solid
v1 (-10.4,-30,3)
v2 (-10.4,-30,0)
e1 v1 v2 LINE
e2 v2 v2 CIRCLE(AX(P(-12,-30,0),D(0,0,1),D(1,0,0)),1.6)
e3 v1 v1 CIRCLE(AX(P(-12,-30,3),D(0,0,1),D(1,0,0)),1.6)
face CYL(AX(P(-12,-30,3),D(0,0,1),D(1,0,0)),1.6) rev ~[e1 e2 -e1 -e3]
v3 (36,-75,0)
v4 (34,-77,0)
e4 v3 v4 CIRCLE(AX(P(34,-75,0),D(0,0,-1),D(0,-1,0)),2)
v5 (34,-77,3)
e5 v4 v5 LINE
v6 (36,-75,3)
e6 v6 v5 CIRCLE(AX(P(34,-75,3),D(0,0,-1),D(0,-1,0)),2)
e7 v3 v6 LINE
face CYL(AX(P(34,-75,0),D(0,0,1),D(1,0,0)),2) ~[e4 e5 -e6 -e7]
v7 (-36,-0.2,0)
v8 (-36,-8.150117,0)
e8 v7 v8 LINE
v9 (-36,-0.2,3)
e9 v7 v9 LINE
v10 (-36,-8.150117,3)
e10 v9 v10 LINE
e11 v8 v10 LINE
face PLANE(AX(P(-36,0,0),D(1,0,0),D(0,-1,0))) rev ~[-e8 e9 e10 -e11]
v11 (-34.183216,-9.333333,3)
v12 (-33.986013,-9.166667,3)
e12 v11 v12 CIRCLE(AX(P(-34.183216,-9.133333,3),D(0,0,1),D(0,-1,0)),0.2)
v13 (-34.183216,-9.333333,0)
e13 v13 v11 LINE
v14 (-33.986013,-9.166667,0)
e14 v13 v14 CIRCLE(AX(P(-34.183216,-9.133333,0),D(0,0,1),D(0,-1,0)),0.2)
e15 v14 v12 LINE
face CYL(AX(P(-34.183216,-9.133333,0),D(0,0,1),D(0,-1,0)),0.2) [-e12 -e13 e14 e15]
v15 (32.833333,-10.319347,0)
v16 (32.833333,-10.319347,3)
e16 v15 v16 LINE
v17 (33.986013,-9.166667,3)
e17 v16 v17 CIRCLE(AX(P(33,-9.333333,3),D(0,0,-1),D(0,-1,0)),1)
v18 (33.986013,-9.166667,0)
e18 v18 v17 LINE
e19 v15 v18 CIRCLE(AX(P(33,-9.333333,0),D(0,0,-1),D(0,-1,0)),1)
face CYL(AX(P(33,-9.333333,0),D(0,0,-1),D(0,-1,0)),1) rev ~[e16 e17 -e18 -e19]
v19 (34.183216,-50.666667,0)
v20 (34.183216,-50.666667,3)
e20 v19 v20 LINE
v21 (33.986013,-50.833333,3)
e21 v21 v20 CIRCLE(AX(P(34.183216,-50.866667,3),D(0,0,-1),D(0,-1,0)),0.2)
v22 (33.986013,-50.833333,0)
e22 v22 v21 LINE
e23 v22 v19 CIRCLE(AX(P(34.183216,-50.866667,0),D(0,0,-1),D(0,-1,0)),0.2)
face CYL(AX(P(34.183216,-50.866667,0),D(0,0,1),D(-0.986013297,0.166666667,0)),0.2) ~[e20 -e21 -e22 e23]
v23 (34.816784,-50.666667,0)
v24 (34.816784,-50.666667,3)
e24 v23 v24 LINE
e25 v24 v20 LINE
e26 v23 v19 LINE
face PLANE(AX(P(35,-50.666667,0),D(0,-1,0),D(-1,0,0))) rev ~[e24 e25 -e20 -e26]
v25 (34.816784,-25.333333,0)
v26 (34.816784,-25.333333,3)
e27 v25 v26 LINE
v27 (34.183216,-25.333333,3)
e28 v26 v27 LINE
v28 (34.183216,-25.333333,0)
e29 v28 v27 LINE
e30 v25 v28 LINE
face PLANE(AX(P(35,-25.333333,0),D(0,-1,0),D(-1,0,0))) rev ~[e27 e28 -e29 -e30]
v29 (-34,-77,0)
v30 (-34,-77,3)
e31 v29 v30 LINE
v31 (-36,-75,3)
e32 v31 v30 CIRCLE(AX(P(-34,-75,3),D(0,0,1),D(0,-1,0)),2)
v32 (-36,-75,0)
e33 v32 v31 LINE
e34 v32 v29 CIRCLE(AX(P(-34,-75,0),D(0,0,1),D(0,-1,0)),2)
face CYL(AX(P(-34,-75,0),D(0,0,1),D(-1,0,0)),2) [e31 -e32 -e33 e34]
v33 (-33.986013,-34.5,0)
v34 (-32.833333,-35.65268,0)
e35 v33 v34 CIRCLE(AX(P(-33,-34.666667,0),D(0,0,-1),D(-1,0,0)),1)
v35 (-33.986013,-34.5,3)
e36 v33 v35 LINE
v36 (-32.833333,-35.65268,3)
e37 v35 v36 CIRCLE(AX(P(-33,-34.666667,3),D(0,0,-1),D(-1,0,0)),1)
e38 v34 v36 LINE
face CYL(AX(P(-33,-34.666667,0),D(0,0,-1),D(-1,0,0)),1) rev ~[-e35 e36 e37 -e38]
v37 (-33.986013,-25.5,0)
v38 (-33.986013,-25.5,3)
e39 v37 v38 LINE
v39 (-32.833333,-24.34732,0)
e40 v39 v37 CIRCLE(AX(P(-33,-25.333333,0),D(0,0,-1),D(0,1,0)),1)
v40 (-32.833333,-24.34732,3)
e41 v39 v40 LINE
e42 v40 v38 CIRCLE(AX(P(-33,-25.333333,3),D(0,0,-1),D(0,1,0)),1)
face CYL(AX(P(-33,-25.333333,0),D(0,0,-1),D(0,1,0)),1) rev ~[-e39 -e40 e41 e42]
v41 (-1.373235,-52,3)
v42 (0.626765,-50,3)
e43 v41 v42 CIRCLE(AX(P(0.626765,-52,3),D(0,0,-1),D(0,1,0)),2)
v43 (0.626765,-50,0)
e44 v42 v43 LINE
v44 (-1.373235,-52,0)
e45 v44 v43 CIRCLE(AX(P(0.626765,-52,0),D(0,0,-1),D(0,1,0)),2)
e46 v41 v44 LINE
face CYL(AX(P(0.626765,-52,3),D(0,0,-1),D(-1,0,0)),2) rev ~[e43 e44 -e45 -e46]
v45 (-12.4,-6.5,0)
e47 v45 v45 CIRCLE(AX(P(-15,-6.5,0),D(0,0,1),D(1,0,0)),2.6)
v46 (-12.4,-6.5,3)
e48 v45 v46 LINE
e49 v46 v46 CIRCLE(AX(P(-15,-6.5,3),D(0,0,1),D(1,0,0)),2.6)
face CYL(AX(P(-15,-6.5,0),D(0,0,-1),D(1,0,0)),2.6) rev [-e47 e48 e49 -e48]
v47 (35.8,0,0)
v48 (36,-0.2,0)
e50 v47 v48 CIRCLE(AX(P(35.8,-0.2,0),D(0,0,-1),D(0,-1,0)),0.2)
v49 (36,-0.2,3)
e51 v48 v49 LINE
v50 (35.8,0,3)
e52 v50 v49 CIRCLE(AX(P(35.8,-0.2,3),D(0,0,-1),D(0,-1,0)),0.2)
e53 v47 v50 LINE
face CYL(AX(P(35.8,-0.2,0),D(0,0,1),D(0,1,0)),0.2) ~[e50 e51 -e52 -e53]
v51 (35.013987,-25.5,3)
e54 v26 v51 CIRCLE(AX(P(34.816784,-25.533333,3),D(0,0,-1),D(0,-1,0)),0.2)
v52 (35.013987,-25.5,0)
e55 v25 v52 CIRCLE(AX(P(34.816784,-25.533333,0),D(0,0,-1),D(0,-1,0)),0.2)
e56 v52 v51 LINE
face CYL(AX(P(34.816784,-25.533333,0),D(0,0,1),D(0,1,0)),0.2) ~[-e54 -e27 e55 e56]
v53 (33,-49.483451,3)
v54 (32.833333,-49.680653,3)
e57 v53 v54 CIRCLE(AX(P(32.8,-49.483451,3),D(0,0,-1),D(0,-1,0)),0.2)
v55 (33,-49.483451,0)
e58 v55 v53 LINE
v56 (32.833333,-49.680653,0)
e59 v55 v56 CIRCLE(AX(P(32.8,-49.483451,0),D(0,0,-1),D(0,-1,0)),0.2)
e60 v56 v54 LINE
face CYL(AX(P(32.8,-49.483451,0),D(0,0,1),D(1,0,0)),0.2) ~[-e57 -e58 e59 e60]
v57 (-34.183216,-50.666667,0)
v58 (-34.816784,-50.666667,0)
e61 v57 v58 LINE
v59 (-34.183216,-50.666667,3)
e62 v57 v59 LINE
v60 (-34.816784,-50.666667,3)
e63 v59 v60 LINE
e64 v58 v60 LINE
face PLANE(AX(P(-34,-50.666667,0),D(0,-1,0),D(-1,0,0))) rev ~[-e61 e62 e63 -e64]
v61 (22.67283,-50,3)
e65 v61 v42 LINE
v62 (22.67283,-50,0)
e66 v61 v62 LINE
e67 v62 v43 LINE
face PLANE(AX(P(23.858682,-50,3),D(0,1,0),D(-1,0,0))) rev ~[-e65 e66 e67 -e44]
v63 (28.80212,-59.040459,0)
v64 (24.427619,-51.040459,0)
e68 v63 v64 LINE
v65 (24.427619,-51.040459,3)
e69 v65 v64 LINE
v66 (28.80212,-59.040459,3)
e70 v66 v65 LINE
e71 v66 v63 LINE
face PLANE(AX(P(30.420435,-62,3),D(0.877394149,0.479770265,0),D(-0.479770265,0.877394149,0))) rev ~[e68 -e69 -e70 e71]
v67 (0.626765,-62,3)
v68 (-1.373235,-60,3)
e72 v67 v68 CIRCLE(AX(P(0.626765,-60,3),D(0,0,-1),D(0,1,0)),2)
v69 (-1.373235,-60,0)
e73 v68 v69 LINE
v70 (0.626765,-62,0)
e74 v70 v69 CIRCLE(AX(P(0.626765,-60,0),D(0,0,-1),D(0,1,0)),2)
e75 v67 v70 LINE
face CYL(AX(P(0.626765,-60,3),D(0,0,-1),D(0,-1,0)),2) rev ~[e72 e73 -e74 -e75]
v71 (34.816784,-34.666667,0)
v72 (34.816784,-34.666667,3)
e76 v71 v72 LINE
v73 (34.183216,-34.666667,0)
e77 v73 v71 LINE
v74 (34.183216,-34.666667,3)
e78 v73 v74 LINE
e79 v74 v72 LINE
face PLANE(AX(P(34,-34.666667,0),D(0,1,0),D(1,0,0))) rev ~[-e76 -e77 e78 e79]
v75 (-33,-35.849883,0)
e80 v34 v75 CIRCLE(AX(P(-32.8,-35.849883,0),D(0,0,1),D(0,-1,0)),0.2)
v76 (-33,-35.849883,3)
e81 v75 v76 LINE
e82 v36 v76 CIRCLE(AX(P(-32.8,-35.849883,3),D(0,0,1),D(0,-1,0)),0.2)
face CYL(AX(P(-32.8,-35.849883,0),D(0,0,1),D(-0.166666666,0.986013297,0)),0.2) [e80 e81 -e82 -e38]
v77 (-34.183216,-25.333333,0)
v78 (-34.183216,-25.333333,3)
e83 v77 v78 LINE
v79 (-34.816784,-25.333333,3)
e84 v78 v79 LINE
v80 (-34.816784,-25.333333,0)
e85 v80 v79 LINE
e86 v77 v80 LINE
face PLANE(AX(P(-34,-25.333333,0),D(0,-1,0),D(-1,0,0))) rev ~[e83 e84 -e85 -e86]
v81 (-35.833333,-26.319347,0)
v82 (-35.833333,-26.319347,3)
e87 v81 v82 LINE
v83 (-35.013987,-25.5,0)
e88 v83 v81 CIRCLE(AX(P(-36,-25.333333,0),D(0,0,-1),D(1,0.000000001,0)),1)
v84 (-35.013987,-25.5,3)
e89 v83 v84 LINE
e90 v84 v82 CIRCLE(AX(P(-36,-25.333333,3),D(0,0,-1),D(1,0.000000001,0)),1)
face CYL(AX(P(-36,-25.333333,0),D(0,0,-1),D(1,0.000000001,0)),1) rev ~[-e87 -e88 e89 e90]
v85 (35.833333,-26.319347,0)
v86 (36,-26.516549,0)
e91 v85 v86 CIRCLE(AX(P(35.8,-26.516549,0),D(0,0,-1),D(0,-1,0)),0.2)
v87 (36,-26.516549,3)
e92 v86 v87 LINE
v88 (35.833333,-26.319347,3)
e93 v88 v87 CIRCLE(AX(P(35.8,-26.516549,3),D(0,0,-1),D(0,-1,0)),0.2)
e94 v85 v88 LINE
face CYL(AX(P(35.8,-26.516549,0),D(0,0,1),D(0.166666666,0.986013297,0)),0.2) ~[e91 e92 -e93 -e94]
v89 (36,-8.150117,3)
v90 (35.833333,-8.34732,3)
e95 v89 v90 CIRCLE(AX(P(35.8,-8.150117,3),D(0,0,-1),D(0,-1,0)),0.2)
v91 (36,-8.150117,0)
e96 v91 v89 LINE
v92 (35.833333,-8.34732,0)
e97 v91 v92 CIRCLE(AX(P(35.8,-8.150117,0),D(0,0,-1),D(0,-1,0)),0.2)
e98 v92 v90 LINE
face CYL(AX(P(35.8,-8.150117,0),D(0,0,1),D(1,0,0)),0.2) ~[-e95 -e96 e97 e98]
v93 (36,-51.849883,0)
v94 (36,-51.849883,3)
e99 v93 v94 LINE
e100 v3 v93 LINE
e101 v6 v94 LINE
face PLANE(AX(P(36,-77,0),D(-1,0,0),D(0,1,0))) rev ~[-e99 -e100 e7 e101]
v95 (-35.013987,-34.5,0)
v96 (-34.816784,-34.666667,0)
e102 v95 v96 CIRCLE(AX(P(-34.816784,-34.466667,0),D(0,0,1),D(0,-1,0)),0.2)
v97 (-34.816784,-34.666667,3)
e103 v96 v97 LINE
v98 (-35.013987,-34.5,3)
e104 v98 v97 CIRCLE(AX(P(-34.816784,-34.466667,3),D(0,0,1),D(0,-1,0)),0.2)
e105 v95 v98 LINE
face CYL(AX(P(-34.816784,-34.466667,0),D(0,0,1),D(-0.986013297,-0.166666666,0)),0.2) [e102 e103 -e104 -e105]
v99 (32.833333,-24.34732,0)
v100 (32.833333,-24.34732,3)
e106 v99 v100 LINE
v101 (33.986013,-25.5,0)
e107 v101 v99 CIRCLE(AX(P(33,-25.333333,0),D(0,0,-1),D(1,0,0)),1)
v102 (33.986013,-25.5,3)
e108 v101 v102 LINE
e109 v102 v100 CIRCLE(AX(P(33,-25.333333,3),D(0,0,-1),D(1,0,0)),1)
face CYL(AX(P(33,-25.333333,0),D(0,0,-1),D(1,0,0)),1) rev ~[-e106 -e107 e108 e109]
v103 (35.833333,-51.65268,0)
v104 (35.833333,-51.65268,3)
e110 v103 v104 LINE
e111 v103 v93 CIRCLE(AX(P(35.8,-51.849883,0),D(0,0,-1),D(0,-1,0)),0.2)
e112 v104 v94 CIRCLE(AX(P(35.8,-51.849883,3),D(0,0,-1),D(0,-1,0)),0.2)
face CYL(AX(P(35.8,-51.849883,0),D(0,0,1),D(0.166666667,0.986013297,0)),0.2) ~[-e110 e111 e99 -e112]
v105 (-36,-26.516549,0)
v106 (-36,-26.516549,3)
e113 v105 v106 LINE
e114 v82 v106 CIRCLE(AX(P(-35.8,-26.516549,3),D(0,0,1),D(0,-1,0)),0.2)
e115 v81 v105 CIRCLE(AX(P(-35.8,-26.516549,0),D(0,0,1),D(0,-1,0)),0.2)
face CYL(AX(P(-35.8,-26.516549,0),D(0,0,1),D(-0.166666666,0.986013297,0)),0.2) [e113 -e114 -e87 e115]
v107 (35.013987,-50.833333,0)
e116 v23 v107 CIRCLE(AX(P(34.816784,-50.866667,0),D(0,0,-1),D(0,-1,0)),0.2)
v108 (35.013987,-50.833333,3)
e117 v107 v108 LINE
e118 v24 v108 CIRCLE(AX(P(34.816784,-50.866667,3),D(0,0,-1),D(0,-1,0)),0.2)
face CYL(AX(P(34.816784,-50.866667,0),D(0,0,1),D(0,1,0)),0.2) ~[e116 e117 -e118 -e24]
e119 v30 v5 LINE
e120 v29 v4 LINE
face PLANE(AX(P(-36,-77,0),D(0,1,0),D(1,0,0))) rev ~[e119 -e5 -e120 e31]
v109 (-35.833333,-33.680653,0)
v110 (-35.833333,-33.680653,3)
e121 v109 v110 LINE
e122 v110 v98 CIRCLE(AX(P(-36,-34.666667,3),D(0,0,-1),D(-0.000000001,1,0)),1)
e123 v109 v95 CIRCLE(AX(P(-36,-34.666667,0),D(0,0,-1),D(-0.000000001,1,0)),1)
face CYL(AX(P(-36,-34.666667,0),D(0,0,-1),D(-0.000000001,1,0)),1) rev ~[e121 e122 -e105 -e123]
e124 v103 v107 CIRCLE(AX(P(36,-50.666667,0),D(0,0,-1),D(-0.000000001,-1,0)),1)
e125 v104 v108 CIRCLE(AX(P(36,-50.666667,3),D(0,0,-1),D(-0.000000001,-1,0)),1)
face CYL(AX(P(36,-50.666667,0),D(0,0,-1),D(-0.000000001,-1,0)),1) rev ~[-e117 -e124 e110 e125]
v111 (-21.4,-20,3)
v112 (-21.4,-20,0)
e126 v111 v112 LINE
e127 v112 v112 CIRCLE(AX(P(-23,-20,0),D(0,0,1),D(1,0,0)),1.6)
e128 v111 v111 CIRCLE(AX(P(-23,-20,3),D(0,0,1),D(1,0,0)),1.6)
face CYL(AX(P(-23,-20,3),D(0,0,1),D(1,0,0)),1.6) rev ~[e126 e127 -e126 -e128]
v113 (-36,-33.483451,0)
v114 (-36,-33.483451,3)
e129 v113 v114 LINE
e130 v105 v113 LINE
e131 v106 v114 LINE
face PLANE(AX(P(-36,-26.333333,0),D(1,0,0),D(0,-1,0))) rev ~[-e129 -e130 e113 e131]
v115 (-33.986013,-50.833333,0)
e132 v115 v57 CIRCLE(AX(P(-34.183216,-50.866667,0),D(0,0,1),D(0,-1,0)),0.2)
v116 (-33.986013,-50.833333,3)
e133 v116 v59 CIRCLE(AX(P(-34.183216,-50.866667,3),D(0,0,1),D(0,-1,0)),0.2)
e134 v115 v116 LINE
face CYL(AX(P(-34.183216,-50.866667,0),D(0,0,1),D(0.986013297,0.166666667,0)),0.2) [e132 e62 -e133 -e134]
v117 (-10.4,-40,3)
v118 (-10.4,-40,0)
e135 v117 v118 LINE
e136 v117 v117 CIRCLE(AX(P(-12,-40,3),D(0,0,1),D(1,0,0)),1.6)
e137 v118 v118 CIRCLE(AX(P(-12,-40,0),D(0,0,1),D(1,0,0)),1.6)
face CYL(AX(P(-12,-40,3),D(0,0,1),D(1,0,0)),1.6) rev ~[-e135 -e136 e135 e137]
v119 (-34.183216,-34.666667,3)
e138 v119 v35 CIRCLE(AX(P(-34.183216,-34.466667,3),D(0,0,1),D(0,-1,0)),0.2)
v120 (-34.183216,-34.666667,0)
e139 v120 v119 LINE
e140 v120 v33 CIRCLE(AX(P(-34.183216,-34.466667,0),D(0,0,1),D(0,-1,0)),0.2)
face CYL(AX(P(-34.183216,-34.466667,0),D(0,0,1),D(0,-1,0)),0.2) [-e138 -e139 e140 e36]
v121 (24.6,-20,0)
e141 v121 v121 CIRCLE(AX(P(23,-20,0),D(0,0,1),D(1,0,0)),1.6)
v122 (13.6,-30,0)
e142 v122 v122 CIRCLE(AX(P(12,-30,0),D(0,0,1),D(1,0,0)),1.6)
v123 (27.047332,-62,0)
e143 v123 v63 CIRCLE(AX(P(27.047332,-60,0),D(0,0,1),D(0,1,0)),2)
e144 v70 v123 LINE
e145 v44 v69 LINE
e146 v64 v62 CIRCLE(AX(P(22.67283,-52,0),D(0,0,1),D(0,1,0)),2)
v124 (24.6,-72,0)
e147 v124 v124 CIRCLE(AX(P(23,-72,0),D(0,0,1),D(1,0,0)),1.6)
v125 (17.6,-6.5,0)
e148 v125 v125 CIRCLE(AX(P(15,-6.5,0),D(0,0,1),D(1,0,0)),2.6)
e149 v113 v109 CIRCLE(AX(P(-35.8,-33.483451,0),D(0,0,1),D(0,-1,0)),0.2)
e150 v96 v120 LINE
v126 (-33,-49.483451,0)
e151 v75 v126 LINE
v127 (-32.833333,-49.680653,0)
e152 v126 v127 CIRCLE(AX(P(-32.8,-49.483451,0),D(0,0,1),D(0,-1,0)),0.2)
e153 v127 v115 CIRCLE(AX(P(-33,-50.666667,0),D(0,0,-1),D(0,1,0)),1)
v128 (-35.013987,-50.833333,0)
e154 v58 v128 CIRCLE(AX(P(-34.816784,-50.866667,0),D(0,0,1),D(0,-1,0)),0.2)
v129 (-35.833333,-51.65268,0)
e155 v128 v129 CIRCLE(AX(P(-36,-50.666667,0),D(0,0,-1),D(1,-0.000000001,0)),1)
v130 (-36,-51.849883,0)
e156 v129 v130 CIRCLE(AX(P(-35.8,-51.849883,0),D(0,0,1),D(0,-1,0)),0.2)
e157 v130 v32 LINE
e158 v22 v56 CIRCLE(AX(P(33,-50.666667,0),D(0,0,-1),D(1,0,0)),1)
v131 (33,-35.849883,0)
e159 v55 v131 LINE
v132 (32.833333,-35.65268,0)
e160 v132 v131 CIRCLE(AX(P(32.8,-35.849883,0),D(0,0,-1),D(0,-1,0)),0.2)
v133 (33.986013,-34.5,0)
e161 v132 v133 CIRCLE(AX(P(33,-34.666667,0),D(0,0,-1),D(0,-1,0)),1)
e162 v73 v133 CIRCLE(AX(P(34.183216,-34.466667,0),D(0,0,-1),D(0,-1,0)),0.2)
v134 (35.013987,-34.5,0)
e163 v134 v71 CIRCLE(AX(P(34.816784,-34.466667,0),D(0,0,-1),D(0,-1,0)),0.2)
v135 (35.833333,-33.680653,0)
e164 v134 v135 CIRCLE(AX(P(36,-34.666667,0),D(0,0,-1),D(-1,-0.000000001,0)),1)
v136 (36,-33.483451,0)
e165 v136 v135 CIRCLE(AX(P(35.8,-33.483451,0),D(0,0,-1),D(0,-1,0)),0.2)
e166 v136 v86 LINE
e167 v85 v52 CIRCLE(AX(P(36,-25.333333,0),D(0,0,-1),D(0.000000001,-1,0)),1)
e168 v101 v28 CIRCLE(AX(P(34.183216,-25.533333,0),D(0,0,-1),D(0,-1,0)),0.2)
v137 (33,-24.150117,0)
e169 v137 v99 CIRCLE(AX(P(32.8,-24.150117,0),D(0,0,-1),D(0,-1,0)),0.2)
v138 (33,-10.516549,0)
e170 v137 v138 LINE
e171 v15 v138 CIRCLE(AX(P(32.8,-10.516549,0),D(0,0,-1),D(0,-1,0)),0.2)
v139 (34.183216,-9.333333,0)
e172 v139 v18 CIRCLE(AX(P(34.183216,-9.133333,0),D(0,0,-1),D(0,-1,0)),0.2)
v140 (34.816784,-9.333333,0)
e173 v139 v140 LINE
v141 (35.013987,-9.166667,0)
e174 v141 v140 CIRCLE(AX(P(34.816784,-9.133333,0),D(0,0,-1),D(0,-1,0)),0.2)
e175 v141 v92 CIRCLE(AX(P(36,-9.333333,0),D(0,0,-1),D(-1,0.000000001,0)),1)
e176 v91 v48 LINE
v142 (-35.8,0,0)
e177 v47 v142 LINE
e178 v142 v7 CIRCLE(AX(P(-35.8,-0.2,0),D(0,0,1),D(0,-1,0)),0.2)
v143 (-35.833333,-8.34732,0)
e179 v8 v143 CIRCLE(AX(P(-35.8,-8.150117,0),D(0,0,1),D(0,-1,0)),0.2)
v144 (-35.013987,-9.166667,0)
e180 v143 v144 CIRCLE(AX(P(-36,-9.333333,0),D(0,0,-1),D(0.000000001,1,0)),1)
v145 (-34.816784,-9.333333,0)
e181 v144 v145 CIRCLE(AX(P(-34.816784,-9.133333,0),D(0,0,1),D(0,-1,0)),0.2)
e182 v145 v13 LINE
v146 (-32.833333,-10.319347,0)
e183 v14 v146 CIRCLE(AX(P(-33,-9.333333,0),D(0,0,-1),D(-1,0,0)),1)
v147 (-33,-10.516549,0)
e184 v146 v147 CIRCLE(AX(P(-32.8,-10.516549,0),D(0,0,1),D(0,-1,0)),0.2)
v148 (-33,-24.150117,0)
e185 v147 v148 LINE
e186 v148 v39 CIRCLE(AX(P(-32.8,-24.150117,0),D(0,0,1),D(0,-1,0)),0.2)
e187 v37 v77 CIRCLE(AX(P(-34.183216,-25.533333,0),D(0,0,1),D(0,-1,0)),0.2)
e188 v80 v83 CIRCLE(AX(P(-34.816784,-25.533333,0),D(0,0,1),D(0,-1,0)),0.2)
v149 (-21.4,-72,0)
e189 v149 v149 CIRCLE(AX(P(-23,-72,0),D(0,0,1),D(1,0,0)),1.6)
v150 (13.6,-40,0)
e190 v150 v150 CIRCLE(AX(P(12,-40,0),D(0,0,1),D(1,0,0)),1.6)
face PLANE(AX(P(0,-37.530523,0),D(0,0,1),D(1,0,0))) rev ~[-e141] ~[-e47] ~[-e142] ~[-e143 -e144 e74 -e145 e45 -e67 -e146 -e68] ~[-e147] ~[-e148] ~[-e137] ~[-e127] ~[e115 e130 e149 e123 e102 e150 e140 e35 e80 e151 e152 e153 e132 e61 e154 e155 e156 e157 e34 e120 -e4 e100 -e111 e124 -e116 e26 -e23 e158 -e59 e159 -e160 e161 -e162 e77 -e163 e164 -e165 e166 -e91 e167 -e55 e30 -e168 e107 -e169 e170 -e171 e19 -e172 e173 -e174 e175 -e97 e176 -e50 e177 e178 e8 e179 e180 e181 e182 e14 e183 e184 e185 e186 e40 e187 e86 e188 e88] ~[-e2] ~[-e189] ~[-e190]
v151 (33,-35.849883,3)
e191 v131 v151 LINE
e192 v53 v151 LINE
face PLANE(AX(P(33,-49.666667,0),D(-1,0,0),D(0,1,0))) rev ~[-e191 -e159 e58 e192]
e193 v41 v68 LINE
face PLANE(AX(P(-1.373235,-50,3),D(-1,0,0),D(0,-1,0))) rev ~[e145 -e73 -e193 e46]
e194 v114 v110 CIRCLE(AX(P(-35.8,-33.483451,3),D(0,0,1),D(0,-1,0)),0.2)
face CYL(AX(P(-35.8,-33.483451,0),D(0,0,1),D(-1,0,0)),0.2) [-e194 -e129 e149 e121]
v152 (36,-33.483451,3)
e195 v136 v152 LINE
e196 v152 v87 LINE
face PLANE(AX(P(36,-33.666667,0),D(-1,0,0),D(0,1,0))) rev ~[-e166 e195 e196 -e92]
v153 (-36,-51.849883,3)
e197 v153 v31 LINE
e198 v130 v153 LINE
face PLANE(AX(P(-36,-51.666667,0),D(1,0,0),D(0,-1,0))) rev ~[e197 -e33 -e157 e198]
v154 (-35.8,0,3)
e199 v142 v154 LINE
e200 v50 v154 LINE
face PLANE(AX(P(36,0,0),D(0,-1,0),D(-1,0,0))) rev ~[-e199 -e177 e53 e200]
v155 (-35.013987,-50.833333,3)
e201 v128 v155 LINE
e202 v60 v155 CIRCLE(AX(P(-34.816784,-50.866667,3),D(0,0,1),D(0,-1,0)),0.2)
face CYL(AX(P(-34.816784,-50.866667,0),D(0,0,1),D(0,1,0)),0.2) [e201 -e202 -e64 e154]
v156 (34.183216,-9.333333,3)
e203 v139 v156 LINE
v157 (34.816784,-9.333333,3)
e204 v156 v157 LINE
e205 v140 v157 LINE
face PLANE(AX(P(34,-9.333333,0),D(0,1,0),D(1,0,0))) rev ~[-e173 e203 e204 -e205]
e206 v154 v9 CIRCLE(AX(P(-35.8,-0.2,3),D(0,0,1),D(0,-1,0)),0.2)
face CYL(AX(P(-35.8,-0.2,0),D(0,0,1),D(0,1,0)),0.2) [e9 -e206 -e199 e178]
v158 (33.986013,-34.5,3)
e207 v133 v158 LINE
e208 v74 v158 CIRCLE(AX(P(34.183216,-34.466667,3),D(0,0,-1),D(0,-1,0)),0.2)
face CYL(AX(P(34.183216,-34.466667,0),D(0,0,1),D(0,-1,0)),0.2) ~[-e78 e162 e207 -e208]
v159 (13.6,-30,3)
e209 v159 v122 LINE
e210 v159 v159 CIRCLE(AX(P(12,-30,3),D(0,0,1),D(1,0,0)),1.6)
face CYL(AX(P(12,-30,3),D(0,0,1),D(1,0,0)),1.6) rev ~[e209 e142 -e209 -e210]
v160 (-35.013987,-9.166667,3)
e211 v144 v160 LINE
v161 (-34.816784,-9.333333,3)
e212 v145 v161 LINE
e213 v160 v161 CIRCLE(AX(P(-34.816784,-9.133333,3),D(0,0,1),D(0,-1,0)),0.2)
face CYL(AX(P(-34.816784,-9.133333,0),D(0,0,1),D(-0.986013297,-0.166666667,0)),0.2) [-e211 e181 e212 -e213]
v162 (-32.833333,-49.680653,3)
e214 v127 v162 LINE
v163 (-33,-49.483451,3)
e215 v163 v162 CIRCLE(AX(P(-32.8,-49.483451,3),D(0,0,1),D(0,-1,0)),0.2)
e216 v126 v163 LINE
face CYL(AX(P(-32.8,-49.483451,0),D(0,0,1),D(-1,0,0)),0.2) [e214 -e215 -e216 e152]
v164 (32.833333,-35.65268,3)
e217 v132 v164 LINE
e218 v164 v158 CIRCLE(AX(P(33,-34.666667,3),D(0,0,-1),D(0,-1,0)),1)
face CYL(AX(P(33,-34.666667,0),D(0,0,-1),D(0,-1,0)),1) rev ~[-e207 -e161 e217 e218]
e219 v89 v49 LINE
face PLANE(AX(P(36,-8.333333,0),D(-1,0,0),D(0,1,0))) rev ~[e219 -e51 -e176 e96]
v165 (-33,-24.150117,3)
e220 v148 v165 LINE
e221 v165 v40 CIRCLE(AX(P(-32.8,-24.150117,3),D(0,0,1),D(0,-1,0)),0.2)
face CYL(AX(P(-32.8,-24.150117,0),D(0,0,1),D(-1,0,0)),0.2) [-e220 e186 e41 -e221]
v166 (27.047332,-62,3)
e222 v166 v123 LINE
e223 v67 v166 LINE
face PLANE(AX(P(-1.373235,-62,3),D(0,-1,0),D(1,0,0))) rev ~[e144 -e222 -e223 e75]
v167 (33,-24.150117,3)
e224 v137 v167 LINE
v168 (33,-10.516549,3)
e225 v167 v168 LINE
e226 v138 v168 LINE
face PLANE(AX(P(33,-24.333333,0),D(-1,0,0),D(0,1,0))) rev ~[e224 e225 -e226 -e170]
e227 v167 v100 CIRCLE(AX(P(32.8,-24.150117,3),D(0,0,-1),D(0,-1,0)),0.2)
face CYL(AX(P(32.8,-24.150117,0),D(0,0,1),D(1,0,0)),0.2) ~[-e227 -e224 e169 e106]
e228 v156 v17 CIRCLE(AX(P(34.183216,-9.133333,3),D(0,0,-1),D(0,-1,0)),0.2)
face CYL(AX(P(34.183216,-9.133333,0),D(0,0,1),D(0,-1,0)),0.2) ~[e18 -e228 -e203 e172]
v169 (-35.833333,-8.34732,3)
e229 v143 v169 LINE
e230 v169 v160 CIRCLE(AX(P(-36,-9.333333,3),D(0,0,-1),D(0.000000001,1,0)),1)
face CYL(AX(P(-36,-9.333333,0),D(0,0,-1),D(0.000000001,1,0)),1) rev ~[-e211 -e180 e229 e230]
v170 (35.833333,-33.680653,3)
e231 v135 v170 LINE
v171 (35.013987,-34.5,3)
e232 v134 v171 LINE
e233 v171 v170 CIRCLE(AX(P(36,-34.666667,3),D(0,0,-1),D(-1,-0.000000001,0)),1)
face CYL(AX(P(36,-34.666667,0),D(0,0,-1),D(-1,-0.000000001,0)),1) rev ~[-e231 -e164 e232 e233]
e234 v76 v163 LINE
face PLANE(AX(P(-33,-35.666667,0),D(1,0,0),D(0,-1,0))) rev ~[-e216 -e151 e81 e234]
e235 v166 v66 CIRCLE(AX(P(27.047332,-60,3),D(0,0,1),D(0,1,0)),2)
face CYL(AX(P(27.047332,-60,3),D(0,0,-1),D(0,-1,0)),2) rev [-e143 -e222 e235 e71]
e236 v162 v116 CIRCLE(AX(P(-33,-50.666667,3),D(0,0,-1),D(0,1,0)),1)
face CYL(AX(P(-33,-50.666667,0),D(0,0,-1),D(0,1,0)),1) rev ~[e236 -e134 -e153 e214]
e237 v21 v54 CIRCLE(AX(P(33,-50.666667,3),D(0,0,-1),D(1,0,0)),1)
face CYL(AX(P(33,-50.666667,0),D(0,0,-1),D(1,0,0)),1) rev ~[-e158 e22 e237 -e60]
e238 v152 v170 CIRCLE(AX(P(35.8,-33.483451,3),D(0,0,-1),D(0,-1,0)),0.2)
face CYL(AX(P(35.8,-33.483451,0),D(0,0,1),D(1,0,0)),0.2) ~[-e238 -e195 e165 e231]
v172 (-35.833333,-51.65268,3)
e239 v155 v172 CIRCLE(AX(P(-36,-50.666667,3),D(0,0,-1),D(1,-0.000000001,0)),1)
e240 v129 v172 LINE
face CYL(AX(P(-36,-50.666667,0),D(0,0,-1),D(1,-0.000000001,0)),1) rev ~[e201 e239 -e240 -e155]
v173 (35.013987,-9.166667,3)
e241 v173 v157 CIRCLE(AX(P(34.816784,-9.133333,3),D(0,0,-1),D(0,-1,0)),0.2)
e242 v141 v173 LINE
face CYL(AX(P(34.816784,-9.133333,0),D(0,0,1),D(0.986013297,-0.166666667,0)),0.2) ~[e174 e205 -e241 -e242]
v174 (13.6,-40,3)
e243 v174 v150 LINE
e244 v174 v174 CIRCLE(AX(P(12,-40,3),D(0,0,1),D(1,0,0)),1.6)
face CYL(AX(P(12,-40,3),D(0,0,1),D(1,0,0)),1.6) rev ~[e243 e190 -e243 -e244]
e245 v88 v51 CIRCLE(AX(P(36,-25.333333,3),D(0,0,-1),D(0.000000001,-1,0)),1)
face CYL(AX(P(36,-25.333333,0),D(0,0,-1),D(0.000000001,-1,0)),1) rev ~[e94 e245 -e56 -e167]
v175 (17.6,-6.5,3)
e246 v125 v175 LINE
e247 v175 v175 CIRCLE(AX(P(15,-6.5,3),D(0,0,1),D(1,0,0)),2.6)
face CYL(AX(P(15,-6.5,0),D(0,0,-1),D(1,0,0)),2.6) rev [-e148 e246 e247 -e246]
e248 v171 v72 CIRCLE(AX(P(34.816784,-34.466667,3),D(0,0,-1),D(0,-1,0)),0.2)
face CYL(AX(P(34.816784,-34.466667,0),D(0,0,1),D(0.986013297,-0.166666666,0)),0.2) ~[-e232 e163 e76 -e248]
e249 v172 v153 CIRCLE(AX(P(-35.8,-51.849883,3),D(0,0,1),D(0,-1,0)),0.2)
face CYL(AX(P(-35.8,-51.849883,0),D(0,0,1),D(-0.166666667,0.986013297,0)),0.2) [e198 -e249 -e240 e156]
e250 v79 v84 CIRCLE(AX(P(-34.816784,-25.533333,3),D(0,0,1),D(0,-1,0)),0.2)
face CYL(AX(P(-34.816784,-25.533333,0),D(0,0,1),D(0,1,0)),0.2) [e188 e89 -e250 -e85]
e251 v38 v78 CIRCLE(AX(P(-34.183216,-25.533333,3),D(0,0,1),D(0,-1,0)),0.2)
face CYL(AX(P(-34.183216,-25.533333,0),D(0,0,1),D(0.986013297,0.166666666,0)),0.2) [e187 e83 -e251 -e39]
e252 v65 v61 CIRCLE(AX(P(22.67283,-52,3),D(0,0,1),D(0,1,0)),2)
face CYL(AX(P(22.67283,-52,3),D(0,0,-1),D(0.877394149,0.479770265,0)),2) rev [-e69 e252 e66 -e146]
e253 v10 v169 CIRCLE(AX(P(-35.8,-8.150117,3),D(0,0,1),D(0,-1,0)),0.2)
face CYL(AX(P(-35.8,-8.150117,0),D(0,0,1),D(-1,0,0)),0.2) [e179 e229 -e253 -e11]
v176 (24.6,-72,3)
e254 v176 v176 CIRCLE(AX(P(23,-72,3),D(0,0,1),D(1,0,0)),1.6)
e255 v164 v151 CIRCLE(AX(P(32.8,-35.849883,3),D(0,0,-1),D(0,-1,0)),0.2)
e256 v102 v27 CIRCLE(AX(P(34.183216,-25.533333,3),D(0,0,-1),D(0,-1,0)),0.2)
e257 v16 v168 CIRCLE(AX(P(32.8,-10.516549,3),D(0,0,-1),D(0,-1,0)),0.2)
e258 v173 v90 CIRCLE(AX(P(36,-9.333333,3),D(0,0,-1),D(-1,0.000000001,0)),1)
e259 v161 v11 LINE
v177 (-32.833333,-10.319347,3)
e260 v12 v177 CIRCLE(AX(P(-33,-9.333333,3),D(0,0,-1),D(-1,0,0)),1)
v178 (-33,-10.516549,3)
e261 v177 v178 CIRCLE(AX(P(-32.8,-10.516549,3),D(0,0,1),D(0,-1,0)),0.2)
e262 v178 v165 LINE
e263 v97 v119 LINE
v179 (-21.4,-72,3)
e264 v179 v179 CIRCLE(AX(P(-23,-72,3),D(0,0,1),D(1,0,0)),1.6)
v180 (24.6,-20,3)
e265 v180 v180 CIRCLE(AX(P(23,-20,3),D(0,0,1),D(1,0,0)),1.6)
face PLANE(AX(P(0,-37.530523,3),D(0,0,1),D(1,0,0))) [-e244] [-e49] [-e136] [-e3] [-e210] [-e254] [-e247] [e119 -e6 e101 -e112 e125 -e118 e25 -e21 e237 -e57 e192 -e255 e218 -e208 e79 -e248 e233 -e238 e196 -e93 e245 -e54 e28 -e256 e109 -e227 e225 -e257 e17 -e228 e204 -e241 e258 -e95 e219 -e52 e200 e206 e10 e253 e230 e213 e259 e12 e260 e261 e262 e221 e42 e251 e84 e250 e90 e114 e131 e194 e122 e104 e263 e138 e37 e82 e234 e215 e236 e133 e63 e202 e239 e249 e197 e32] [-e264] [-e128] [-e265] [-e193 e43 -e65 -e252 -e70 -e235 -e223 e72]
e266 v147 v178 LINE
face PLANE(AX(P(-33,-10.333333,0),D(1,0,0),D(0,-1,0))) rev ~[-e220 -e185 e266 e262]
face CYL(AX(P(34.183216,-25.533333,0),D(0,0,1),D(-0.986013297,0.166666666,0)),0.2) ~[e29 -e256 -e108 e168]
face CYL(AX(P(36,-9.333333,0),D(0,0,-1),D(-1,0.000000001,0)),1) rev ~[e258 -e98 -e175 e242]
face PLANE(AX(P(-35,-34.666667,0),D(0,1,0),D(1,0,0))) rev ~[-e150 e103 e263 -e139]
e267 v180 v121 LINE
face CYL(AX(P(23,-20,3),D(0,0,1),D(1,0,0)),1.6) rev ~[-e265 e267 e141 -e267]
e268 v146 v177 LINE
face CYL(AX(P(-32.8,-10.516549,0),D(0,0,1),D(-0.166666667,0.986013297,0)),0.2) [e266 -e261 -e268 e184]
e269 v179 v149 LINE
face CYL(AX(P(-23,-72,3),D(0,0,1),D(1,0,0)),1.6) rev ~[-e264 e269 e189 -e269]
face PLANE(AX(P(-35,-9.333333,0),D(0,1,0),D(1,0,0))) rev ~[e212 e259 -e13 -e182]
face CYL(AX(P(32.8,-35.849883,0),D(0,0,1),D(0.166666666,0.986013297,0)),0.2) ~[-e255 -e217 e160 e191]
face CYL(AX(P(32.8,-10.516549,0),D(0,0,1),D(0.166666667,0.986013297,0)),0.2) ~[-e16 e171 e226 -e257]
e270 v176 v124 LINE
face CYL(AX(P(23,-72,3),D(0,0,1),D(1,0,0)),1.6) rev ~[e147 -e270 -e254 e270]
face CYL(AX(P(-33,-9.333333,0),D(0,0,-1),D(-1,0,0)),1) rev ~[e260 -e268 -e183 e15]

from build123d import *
from OCP.BRepFilletAPI import BRepFilletAPI_MakeFillet

# Parameters (mm, degrees)
SKETCH_1_R          = 2.6
EXTRUDE_1_DEPTH     = 3
FILLET_1_R1         = 0.2
FILLET_1_R2         = 2
SKETCH_2_R          = 1.6
CUT_EXTRUDE_1_DEPTH = 10
CUT_EXTRUDE_4_DEPTH = 3
SKETCH_8_R          = 1.6
CUT_EXTRUDE_5_DEPTH = 3
FILLET_2_R          = 2
SKETCH_10_R         = 1.6
CUT_EXTRUDE_6_DEPTH = 10


with BuildPart() as part:
    # 草图1 → 凸台-拉伸1 (new body)
    with BuildSketch(Plane.XY):
        with BuildLine():
            Line((36, 0), (-36, 0))
            Line((-36, 0), (-36, -8.333333333))
            ThreePointArc((-36, -8.333333333), (-35.292893219, -8.626226552), (-35, -9.333333333))
            Line((-35, -9.333333333), (-34, -9.333333333))
            ThreePointArc((-34, -9.333333333), (-32.292893219, -8.626226552), (-33, -10.333333333))
            Line((-33, -10.333333333), (-33, -24.333333333))
            ThreePointArc((-33, -24.333333333), (-32.292893219, -26.040440115), (-34, -25.333333333))
            Line((-34, -25.333333333), (-35, -25.333333333))
            ThreePointArc((-35, -25.333333333), (-35.292893219, -26.040440115), (-36, -26.333333333))
            Line((-36, -26.333333333), (-36, -33.666666667))
            ThreePointArc((-36, -33.666666667), (-35.292893219, -33.959559885), (-35, -34.666666667))
            Line((-35, -34.666666667), (-34, -34.666666667))
            ThreePointArc((-34, -34.666666667), (-32.292893219, -33.959559885), (-33, -35.666666667))
            Line((-33, -35.666666667), (-33, -49.666666667))
            ThreePointArc((-33, -49.666666667), (-32.292893219, -51.373773448), (-34, -50.666666667))
            Line((-34, -50.666666667), (-35, -50.666666667))
            ThreePointArc((-35, -50.666666667), (-35.292893219, -51.373773448), (-36, -51.666666667))
            Line((-36, -51.666666667), (-36, -77))
            Line((-36, -77), (36, -77))
            Line((36, -77), (36, -51.666666667))
            ThreePointArc((36, -51.666666667), (35.292893219, -51.373773448), (35, -50.666666667))
            Line((35, -50.666666667), (34, -50.666666667))
            ThreePointArc((34, -50.666666667), (32.292893219, -51.373773448), (33, -49.666666667))
            Line((33, -49.666666667), (33, -35.666666667))
            ThreePointArc((33, -35.666666667), (32.292893219, -33.959559885), (34, -34.666666667))
            Line((34, -34.666666667), (35, -34.666666667))
            ThreePointArc((35, -34.666666667), (35.292893219, -33.959559885), (36, -33.666666667))
            Line((36, -33.666666667), (36, -26.333333333))
            ThreePointArc((36, -26.333333333), (35.292893219, -26.040440115), (35, -25.333333333))
            Line((35, -25.333333333), (34, -25.333333333))
            ThreePointArc((34, -25.333333333), (32.292893219, -26.040440115), (33, -24.333333333))
            Line((33, -24.333333333), (33, -10.333333333))
            ThreePointArc((33, -10.333333333), (32.292893219, -8.626226552), (34, -9.333333333))
            Line((34, -9.333333333), (35, -9.333333333))
            ThreePointArc((35, -9.333333333), (35.292893219, -8.626226552), (36, -8.333333333))
            Line((36, -8.333333333), (36, 0))
        make_face()
        with Locations((-15, -6.5)):
            Circle(SKETCH_1_R, mode=Mode.SUBTRACT)
        with Locations((15, -6.5)):
            Circle(SKETCH_1_R, mode=Mode.SUBTRACT)
    extrude(amount=EXTRUDE_1_DEPTH)

    # 圆角1: one fillet with a radius per group of edges: ONE call of the kernel's fillet builder (fillet() takes one radius for all edges)
    fillet_1_edges_1 = [part.edges().sort_by_distance(p)[0] for p in [
        (-35, -9.333333333, 1.5),
        (-34, -9.333333333, 1.5),
        (33, -10.333333333, 1.5),
        (34, -9.333333333, 1.5),
        (35, -9.333333333, 1.5),
        (36, -8.333333333, 1.5),
        (36, 0, 1.5),
        (-36, 0, 1.5),
        (-36, -8.333333333, 1.5),
        (-33, -10.333333333, 1.5),
        (-33, -24.333333333, 1.5),
        (-34, -25.333333333, 1.5),
        (-35, -25.333333333, 1.5),
        (-36, -26.333333333, 1.5),
        (-36, -33.666666667, 1.5),
        (-35, -34.666666667, 1.5),
        (-34, -34.666666667, 1.5),
        (-33, -35.666666667, 1.5),
        (-33, -49.666666667, 1.5),
        (-34, -50.666666667, 1.5),
        (-35, -50.666666667, 1.5),
        (-36, -51.666666667, 1.5),
        (36, -51.666666667, 1.5),
        (35, -50.666666667, 1.5),
        (34, -50.666666667, 1.5),
        (33, -49.666666667, 1.5),
        (33, -35.666666667, 1.5),
        (34, -34.666666667, 1.5),
        (35, -34.666666667, 1.5),
        (36, -33.666666667, 1.5),
        (36, -26.333333333, 1.5),
        (35, -25.333333333, 1.5),
        (34, -25.333333333, 1.5),
        (33, -24.333333333, 1.5),
    ]]
    fillet_1_edges_2 = [part.edges().sort_by_distance(p)[0] for p in [
        (-36, -77, 1.5),
        (36, -77, 1.5),
    ]]
    fillet_1 = BRepFilletAPI_MakeFillet(part.part.solid().wrapped)
    for e in fillet_1_edges_1:
        fillet_1.Add(FILLET_1_R1, e.wrapped)
    for e in fillet_1_edges_2:
        fillet_1.Add(FILLET_1_R2, e.wrapped)
    add(Compound.cast(fillet_1.Shape()), mode=Mode.REPLACE)

    # 草图2 → 切除-拉伸1 (cut)
    with BuildSketch(Plane.XY.offset(3)):
        with Locations((-23, -20)):
            Circle(SKETCH_2_R)
        with Locations((23, -20)):
            Circle(SKETCH_2_R)
    extrude(amount=-CUT_EXTRUDE_1_DEPTH, mode=Mode.SUBTRACT)

    # 草图4 → 切除-拉伸4 (cut)
    with BuildSketch(Plane.XY.offset(3)):
        Polygon((-1.373235094, -62), (30.420434699, -62), (23.858682277, -50), (-1.373235094, -50), align=None)
    extrude(amount=-CUT_EXTRUDE_4_DEPTH, mode=Mode.SUBTRACT)

    # 草图8 → 切除-拉伸5 (cut)
    with BuildSketch(Plane.XY.offset(3)):
        with Locations((23, -72)):
            Circle(SKETCH_8_R)
        with Locations((-23, -72)):
            Circle(SKETCH_8_R)
    extrude(amount=-CUT_EXTRUDE_5_DEPTH, mode=Mode.SUBTRACT)

    # 圆角2
    fillet_2_edges = [part.edges().sort_by_distance(p)[0] for p in [
        (23.858682277, -50, 1.5),
        (-1.373235094, -62, 1.5),
        (30.420434699, -62, 1.5),
        (-1.373235094, -50, 1.5),
    ]]
    fillet(fillet_2_edges, radius=FILLET_2_R)

    # 草图10 → 切除-拉伸6 (cut)
    with BuildSketch(Plane.XY.offset(3)):
        with Locations((-12, -30)):
            Circle(SKETCH_10_R)
        with Locations((-12, -40)):
            Circle(SKETCH_10_R)
        with Locations((12, -40)):
            Circle(SKETCH_10_R)
        with Locations((12, -30)):
            Circle(SKETCH_10_R)
    extrude(amount=-CUT_EXTRUDE_6_DEPTH, mode=Mode.SUBTRACT)


solid = part.part
